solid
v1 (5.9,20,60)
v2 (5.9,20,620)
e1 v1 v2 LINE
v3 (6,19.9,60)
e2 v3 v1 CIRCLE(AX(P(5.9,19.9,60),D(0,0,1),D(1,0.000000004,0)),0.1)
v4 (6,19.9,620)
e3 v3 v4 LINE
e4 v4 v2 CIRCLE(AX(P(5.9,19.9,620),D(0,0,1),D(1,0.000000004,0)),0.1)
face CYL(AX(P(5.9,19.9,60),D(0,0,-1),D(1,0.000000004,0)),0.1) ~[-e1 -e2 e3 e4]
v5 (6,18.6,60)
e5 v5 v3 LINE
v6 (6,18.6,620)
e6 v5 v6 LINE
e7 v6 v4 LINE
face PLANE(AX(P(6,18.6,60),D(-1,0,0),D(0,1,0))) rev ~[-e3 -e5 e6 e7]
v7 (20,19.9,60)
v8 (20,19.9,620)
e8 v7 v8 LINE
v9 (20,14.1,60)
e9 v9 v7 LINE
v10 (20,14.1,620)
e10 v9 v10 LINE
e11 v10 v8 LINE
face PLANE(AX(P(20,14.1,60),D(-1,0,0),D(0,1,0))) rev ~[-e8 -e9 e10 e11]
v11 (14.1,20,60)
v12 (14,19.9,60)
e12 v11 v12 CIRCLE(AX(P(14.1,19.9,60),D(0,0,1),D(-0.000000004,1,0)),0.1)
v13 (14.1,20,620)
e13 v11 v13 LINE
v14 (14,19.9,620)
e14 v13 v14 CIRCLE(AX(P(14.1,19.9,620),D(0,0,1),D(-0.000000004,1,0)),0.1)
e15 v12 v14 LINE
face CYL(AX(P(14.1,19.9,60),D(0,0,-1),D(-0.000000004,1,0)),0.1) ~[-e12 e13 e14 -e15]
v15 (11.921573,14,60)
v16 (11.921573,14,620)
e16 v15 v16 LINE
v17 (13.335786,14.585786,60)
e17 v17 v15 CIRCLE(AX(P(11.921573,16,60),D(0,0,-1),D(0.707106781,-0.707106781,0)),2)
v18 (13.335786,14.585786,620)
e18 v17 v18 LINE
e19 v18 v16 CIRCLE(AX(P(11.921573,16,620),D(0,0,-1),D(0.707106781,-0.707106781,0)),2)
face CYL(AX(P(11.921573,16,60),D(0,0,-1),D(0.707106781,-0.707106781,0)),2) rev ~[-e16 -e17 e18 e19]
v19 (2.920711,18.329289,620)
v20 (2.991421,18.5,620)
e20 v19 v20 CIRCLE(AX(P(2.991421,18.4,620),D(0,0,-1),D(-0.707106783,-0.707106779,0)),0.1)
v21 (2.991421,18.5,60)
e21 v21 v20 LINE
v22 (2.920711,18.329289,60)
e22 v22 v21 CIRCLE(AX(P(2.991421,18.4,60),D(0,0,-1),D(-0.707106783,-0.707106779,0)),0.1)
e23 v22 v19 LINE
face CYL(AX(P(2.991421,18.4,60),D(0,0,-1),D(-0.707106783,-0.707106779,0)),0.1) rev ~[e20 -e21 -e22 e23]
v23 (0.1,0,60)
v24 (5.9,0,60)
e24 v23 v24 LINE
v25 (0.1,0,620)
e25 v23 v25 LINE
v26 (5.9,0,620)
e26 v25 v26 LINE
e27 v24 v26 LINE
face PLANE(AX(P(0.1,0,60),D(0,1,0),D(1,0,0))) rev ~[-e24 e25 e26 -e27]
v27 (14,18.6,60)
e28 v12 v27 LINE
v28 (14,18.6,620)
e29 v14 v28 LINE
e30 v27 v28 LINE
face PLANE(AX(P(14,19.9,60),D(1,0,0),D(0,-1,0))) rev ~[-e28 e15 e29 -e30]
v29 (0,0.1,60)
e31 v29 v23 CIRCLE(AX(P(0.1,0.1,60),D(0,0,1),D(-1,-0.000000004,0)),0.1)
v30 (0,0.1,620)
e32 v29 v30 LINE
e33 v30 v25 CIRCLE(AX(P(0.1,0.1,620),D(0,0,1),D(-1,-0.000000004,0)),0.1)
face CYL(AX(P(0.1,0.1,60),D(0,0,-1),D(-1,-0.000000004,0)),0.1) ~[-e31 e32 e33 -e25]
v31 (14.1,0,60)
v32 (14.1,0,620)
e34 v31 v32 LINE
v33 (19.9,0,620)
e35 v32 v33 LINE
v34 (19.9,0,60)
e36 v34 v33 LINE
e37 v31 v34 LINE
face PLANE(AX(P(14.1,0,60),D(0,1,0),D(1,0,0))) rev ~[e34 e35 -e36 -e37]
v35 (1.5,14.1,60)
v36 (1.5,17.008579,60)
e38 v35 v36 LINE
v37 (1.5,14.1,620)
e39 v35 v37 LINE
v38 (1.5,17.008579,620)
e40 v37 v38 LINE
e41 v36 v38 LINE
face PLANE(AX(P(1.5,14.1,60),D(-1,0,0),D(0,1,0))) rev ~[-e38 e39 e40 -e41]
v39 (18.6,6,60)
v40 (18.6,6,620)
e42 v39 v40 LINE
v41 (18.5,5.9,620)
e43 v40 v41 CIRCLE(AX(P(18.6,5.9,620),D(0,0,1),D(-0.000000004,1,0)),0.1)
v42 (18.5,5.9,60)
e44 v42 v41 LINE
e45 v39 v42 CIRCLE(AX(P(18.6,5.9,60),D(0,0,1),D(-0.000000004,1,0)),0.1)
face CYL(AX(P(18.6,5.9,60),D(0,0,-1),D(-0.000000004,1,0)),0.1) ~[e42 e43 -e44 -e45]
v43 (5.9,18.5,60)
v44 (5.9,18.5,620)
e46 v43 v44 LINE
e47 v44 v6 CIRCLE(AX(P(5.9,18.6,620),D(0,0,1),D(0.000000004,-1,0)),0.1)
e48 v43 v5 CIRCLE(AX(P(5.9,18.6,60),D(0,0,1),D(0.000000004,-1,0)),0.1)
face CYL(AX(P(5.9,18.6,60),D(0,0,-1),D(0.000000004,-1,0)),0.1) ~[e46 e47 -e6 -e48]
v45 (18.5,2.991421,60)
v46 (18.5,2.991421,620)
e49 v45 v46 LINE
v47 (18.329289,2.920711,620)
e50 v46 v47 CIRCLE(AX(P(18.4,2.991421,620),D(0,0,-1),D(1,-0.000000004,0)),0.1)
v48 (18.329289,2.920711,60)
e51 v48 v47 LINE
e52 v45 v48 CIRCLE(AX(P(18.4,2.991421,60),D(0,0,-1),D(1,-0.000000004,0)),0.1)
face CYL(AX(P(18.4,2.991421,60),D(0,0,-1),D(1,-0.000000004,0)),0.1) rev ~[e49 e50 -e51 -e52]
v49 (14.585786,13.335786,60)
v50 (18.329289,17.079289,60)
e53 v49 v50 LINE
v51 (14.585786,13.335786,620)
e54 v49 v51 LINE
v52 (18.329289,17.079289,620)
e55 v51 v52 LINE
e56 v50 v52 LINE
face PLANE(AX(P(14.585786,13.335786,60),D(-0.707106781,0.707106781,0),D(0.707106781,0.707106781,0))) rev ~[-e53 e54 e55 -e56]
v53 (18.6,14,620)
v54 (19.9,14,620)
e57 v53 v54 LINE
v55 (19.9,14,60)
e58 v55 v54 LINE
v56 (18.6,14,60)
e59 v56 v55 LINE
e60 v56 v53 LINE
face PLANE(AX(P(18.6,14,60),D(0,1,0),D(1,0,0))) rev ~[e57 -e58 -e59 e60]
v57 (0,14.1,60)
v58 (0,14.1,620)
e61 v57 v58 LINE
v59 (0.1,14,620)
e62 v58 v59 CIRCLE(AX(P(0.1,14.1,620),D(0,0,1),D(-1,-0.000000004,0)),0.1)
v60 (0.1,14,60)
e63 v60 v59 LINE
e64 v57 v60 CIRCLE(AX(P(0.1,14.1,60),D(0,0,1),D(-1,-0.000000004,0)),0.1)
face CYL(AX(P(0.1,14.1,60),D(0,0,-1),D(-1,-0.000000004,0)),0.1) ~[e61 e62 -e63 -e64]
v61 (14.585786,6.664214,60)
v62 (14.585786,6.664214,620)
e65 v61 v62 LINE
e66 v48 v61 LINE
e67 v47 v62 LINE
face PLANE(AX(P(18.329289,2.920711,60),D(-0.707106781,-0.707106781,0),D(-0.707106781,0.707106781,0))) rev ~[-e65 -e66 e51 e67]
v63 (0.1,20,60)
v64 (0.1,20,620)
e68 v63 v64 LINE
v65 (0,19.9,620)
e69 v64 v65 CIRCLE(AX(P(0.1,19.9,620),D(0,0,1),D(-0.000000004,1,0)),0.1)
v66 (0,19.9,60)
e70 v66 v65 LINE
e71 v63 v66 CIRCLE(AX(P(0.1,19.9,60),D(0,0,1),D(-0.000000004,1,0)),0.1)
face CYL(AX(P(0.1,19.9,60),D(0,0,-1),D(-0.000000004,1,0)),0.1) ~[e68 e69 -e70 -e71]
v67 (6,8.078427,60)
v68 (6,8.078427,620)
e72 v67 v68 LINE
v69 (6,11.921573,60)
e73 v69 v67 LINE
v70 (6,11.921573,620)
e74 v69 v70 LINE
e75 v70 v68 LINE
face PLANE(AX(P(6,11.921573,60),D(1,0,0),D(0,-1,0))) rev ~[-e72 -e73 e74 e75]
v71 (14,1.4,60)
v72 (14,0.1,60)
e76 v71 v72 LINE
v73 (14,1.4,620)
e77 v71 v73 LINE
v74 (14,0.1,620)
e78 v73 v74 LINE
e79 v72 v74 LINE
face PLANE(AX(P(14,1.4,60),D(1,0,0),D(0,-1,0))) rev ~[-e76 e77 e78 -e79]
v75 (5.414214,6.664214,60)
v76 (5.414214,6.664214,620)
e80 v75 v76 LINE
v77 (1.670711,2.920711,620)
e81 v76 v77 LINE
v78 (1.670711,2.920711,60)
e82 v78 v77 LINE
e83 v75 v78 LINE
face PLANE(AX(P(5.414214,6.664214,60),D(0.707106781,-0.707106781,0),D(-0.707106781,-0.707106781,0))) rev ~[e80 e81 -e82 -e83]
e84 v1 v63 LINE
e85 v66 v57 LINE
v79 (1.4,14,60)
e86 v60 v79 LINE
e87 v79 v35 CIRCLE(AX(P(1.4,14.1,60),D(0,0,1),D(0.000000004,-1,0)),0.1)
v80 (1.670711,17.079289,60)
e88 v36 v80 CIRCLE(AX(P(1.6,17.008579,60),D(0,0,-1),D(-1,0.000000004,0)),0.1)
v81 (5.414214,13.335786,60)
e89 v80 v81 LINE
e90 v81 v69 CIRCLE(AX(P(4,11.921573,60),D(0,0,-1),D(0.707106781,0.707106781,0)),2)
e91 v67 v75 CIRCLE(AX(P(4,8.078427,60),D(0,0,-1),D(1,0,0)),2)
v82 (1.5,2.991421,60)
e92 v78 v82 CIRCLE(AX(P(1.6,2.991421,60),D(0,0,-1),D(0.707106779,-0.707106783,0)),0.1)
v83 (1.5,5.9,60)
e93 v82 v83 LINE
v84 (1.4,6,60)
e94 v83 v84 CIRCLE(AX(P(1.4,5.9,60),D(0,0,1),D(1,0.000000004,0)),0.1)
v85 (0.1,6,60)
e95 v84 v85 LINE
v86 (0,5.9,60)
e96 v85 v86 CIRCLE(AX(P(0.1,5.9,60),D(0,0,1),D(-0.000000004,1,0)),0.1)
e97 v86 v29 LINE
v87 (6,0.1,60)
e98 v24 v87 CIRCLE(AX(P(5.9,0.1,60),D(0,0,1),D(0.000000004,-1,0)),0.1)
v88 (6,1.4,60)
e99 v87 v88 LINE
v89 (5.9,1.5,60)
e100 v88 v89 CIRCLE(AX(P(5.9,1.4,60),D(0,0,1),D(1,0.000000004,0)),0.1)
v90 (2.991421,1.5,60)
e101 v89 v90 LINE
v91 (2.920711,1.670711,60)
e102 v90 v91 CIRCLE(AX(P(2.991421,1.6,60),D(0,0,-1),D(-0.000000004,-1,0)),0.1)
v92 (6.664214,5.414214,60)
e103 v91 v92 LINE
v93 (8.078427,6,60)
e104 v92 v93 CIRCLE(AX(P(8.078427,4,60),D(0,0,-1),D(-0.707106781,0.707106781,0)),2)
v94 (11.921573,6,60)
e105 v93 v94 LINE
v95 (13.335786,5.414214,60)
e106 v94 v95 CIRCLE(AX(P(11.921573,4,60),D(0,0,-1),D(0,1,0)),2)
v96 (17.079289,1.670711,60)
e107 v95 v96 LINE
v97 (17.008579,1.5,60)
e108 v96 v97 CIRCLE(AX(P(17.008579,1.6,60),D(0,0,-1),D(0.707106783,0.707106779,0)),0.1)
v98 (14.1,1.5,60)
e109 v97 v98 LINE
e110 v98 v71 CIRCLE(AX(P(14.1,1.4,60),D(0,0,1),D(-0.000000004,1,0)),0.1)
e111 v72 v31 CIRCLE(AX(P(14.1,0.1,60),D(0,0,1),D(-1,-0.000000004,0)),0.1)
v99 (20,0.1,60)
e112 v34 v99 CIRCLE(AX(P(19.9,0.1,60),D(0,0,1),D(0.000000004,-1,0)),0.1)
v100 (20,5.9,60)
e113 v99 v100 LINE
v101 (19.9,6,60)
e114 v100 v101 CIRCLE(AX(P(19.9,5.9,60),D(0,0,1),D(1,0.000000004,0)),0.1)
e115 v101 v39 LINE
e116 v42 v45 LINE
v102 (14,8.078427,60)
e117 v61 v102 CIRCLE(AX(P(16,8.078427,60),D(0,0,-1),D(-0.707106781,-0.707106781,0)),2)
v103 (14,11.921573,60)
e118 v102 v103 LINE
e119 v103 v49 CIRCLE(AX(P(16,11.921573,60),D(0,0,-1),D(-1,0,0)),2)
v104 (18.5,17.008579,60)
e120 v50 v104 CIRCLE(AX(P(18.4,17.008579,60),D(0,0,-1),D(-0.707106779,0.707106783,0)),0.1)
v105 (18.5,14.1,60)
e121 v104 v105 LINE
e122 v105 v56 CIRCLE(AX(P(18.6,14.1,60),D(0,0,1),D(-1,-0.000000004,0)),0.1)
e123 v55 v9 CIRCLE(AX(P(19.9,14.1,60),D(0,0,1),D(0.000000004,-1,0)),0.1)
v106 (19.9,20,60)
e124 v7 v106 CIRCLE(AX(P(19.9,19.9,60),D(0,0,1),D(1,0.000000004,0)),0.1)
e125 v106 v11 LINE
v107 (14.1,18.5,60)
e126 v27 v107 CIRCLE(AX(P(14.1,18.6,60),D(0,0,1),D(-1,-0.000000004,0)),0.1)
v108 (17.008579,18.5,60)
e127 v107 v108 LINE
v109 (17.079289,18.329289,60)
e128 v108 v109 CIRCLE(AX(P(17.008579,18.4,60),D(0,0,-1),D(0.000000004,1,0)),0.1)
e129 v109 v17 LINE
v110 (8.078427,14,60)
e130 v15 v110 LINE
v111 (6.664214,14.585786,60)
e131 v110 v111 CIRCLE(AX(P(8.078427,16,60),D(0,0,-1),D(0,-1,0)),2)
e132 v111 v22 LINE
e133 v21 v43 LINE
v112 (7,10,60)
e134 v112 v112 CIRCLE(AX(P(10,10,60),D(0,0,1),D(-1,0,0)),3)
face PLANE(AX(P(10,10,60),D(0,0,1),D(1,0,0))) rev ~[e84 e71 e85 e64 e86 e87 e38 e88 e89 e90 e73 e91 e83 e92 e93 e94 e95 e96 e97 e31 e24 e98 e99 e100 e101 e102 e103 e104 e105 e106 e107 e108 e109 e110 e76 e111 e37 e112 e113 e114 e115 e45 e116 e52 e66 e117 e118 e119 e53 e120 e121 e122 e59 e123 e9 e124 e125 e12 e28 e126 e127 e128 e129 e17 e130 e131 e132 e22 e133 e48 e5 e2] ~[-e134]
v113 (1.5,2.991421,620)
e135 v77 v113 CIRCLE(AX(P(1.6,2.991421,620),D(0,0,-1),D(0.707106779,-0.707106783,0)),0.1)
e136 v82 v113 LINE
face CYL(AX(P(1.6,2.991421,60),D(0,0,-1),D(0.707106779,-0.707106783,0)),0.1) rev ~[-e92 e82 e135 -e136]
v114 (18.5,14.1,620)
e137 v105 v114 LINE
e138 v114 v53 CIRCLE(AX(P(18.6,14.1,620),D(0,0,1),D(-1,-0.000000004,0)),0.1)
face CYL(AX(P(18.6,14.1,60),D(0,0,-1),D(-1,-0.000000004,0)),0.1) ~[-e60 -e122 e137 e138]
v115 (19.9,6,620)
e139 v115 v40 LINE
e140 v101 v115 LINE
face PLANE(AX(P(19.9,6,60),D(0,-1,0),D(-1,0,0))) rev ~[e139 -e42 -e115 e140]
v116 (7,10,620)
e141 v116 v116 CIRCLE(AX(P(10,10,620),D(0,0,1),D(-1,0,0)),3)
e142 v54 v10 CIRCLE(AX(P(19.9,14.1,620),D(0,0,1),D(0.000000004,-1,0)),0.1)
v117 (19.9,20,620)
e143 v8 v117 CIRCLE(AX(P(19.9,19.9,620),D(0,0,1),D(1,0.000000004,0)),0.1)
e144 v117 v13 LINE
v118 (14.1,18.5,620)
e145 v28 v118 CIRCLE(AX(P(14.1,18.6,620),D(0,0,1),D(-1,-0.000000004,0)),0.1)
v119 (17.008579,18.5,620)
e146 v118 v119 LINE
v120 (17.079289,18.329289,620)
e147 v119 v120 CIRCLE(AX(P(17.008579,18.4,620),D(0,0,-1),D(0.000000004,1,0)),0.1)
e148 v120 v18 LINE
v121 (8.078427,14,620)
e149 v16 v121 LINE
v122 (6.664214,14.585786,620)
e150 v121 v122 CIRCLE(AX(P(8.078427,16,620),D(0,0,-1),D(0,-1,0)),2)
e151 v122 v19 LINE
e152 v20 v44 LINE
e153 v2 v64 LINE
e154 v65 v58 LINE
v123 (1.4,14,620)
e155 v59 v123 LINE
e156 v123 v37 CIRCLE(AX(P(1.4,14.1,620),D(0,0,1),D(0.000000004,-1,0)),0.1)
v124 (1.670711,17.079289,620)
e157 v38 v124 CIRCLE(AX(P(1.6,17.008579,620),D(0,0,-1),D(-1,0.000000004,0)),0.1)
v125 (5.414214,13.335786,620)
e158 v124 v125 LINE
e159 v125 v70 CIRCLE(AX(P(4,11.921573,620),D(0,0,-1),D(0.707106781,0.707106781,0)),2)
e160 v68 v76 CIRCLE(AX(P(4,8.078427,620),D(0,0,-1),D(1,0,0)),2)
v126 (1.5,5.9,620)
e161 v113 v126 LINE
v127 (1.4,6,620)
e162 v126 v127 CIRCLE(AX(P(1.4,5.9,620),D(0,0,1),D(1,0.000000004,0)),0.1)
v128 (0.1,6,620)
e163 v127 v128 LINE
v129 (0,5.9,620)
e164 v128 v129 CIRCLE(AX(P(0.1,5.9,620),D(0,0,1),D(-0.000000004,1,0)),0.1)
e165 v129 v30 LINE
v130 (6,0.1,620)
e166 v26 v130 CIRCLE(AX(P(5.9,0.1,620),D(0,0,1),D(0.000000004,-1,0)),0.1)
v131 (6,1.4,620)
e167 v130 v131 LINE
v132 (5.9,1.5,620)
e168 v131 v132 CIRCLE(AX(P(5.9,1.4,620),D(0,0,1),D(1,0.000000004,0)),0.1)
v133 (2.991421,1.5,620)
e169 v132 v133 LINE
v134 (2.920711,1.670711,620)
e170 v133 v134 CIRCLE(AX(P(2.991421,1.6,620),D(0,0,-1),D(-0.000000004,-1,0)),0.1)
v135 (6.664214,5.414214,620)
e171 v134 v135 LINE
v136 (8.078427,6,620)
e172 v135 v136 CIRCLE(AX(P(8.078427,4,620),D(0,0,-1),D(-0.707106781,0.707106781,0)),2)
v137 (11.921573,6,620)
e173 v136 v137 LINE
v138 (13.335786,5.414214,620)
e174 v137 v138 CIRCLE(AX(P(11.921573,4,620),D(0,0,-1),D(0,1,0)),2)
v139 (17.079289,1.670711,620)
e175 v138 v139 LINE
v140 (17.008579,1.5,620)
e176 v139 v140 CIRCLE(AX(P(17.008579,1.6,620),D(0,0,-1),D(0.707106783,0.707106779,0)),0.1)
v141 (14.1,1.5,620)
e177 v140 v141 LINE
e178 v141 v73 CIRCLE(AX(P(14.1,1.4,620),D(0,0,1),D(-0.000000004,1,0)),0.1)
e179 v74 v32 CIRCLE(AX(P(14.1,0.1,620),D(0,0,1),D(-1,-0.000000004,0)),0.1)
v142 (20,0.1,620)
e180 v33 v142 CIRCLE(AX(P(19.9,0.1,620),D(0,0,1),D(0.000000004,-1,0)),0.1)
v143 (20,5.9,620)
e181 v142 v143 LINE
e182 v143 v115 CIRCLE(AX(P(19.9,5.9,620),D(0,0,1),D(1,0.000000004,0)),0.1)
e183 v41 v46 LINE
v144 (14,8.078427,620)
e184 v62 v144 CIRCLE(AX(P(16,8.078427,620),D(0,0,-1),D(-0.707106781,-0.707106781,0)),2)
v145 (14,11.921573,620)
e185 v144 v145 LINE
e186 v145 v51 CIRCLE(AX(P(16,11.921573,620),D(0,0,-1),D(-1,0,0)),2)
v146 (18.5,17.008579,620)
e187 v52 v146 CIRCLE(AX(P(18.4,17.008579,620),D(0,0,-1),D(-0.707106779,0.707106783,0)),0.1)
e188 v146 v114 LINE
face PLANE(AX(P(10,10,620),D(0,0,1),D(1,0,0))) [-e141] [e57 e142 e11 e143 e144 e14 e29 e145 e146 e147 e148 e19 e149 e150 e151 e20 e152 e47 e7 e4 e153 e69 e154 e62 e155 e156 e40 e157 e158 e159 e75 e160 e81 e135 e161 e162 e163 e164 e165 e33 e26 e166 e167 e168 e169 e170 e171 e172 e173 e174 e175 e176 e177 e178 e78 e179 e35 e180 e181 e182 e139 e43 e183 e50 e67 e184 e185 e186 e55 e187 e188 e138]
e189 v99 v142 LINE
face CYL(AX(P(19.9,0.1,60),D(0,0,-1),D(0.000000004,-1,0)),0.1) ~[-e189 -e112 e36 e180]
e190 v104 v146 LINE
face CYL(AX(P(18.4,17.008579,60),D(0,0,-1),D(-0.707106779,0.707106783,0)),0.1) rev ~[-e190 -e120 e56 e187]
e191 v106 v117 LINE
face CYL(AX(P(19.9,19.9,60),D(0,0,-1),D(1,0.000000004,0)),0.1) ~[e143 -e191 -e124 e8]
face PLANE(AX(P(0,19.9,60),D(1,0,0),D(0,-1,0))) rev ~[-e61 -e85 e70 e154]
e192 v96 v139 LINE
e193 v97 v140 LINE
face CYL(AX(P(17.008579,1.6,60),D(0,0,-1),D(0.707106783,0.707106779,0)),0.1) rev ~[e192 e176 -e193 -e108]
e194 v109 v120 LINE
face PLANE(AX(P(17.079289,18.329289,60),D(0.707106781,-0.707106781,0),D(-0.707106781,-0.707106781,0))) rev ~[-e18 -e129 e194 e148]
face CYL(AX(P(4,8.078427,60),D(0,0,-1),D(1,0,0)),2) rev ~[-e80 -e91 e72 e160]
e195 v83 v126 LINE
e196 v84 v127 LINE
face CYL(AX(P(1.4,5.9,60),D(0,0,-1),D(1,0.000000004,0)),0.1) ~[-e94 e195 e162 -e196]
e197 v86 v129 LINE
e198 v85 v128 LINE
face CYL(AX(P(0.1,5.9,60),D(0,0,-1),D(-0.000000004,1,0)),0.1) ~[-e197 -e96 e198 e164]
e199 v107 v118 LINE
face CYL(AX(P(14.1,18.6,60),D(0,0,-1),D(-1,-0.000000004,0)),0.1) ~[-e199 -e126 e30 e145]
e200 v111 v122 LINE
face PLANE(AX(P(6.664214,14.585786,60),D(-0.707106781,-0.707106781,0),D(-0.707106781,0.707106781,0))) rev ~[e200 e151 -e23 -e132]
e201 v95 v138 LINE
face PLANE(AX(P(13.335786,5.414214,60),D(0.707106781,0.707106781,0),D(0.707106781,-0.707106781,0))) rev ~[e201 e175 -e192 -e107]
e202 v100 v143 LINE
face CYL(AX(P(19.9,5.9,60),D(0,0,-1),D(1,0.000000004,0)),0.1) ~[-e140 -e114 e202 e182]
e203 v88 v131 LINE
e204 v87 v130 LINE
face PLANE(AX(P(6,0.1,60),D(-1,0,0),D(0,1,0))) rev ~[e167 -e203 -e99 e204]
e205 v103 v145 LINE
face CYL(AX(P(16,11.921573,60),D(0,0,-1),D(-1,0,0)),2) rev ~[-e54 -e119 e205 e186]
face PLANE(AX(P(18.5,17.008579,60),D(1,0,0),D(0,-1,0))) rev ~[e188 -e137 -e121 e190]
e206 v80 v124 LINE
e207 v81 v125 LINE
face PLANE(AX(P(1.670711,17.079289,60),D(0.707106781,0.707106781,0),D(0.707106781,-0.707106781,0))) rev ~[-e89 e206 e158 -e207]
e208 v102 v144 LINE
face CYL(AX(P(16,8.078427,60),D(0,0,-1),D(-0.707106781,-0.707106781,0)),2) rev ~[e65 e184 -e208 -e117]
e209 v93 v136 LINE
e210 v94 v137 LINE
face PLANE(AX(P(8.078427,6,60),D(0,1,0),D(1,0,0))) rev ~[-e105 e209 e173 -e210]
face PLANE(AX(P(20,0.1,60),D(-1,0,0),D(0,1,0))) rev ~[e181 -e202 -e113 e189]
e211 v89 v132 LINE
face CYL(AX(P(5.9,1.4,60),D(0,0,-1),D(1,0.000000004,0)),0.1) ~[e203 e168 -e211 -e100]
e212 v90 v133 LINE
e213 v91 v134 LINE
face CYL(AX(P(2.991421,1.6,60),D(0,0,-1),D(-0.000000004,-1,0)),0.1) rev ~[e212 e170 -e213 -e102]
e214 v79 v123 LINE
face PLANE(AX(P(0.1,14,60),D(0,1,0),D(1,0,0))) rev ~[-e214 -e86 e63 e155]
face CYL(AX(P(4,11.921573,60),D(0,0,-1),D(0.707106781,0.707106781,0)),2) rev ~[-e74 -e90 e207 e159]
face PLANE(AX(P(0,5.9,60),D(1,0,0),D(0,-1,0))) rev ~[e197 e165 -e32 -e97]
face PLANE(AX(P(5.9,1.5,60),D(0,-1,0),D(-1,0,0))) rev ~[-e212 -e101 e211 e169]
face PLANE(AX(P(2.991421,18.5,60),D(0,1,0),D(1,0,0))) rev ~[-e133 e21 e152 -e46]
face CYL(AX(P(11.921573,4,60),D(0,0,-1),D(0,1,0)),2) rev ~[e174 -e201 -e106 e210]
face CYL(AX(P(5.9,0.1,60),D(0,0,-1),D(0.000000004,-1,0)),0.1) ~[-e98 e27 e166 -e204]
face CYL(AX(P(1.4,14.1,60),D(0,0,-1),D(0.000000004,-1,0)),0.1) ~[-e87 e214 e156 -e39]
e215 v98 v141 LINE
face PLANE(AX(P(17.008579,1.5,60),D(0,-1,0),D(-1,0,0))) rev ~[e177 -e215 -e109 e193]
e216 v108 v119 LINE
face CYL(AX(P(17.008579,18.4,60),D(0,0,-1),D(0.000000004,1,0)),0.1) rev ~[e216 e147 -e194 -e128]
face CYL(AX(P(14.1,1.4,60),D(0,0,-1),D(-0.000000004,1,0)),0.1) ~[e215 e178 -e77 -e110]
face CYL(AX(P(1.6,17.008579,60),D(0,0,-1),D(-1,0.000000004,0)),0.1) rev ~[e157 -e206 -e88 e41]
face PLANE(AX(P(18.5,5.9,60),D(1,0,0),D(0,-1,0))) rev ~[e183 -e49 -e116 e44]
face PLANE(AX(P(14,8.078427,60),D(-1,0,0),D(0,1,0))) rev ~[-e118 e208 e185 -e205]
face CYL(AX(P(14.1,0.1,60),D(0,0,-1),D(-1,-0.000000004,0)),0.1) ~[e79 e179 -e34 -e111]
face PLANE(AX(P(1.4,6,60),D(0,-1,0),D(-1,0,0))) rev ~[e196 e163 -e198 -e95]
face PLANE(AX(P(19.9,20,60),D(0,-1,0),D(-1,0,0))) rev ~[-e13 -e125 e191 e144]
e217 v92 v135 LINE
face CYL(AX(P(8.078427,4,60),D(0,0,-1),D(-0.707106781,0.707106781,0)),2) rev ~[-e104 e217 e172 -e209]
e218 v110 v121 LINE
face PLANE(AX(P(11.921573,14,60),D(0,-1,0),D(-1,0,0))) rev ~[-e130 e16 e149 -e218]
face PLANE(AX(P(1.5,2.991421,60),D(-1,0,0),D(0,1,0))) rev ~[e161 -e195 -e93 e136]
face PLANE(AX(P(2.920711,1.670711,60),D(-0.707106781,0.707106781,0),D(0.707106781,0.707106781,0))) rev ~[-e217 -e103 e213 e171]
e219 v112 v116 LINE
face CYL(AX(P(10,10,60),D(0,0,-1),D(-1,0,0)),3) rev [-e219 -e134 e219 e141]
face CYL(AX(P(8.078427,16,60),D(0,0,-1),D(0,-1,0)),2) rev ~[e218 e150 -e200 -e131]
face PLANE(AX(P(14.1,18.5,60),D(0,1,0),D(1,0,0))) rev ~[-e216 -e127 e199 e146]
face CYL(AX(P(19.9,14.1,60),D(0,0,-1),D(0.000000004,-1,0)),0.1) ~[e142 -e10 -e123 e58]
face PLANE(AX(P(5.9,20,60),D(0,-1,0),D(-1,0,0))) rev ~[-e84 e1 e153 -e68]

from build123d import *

# Parameters (mm, degrees)
SKETCH1_R           = 3
BOSS_EXTRUDE2_DEPTH = 560


with BuildPart() as part:
    # Sketch1 → Boss-Extrude2 (new body)
    with BuildSketch(Plane.XY.offset(60)):
        with BuildLine():
            Line((18.5, 17.008578644), (18.5, 14.1))
            ThreePointArc((18.5, 14.1), (18.529289322, 14.029289322), (18.6, 14))
            Line((18.6, 14), (19.9, 14))
            ThreePointArc((19.9, 14), (19.970710678, 14.029289322), (20, 14.1))
            Line((20, 14.1), (20, 19.9))
            ThreePointArc((20, 19.9), (19.970710678, 19.970710678), (19.9, 20))
            Line((19.9, 20), (14.1, 20))
            ThreePointArc((14.1, 20), (14.029289322, 19.970710678), (14, 19.9))
            Line((14, 19.9), (14, 18.6))
            ThreePointArc((14, 18.6), (14.029289322, 18.529289322), (14.1, 18.5))
            Line((14.1, 18.5), (17.008578644, 18.5))
            ThreePointArc((17.008578644, 18.5), (17.100966597, 18.438268343), (17.079289322, 18.329289322))
            Line((17.079289322, 18.329289322), (13.335786438, 14.585786438))
            ThreePointArc((13.335786438, 14.585786438), (12.68693974, 14.152240935), (11.921572875, 14))
            Line((11.921572875, 14), (8.078427125, 14))
            ThreePointArc((8.078427125, 14), (7.31306026, 14.152240935), (6.664213562, 14.585786438))
            Line((6.664213562, 14.585786438), (2.920710678, 18.329289322))
            ThreePointArc((2.920710678, 18.329289322), (2.899033403, 18.438268343), (2.991421356, 18.5))
            Line((2.991421356, 18.5), (5.9, 18.5))
            ThreePointArc((5.9, 18.5), (5.970710678, 18.529289322), (6, 18.6))
            Line((6, 18.6), (6, 19.9))
            ThreePointArc((6, 19.9), (5.970710678, 19.970710678), (5.9, 20))
            Line((5.9, 20), (0.1, 20))
            ThreePointArc((0.1, 20), (0.029289322, 19.970710678), (0, 19.9))
            Line((0, 19.9), (0, 14.1))
            ThreePointArc((0, 14.1), (0.029289322, 14.029289322), (0.1, 14))
            Line((0.1, 14), (1.4, 14))
            ThreePointArc((1.4, 14), (1.470710678, 14.029289322), (1.5, 14.1))
            Line((1.5, 14.1), (1.5, 17.008578644))
            ThreePointArc((1.5, 17.008578644), (1.561731657, 17.100966597), (1.670710678, 17.079289322))
            Line((1.670710678, 17.079289322), (5.414213562, 13.335786438))
            ThreePointArc((5.414213562, 13.335786438), (5.847759065, 12.68693974), (6, 11.921572875))
            Line((6, 11.921572875), (6, 8.078427125))
            ThreePointArc((6, 8.078427125), (5.847759065, 7.31306026), (5.414213562, 6.664213562))
            Line((5.414213562, 6.664213562), (1.670710678, 2.920710678))
            ThreePointArc((1.670710678, 2.920710678), (1.561731657, 2.899033403), (1.5, 2.991421356))
            Line((1.5, 2.991421356), (1.5, 5.9))
            ThreePointArc((1.5, 5.9), (1.470710678, 5.970710678), (1.4, 6))
            Line((1.4, 6), (0.1, 6))
            ThreePointArc((0.1, 6), (0.029289322, 5.970710678), (0, 5.9))
            Line((0, 5.9), (0, 0.1))
            ThreePointArc((0, 0.1), (0.029289322, 0.029289322), (0.1, 0))
            Line((0.1, 0), (5.9, 0))
            ThreePointArc((5.9, 0), (5.970710678, 0.029289322), (6, 0.1))
            Line((6, 0.1), (6, 1.4))
            ThreePointArc((6, 1.4), (5.970710678, 1.470710678), (5.9, 1.5))
            Line((5.9, 1.5), (2.991421356, 1.5))
            ThreePointArc((2.991421356, 1.5), (2.899033403, 1.561731657), (2.920710678, 1.670710678))
            Line((2.920710678, 1.670710678), (6.664213562, 5.414213562))
            ThreePointArc((6.664213562, 5.414213562), (7.31306026, 5.847759065), (8.078427125, 6))
            Line((8.078427125, 6), (11.921572875, 6))
            ThreePointArc((11.921572875, 6), (12.68693974, 5.847759065), (13.335786438, 5.414213562))
            Line((13.335786438, 5.414213562), (17.079289322, 1.670710678))
            ThreePointArc((17.079289322, 1.670710678), (17.100966597, 1.561731657), (17.008578644, 1.5))
            Line((17.008578644, 1.5), (14.1, 1.5))
            ThreePointArc((14.1, 1.5), (14.029289322, 1.470710678), (14, 1.4))
            Line((14, 1.4), (14, 0.1))
            ThreePointArc((14, 0.1), (14.029289322, 0.029289322), (14.1, 0))
            Line((14.1, 0), (19.9, 0))
            ThreePointArc((19.9, 0), (19.970710678, 0.029289322), (20, 0.1))
            Line((20, 0.1), (20, 5.9))
            ThreePointArc((20, 5.9), (19.970710678, 5.970710678), (19.9, 6))
            Line((19.9, 6), (18.6, 6))
            ThreePointArc((18.6, 6), (18.529289322, 5.970710678), (18.5, 5.9))
            Line((18.5, 5.9), (18.5, 2.991421356))
            ThreePointArc((18.5, 2.991421356), (18.438268343, 2.899033403), (18.329289322, 2.920710678))
            Line((18.329289322, 2.920710678), (14.585786438, 6.664213562))
            ThreePointArc((14.585786438, 6.664213562), (14.152240935, 7.31306026), (14, 8.078427125))
            Line((14, 8.078427125), (14, 11.921572875))
            ThreePointArc((14, 11.921572875), (14.152240935, 12.68693974), (14.585786438, 13.335786438))
            Line((14.585786438, 13.335786438), (18.329289322, 17.079289322))
            ThreePointArc((18.329289322, 17.079289322), (18.438268343, 17.100966597), (18.5, 17.008578644))
        make_face()
        with Locations(Location((10, 10, 0), (0, 0, 180))):
            Circle(SKETCH1_R, mode=Mode.SUBTRACT)
    extrude(amount=BOSS_EXTRUDE2_DEPTH)


solid = part.part
